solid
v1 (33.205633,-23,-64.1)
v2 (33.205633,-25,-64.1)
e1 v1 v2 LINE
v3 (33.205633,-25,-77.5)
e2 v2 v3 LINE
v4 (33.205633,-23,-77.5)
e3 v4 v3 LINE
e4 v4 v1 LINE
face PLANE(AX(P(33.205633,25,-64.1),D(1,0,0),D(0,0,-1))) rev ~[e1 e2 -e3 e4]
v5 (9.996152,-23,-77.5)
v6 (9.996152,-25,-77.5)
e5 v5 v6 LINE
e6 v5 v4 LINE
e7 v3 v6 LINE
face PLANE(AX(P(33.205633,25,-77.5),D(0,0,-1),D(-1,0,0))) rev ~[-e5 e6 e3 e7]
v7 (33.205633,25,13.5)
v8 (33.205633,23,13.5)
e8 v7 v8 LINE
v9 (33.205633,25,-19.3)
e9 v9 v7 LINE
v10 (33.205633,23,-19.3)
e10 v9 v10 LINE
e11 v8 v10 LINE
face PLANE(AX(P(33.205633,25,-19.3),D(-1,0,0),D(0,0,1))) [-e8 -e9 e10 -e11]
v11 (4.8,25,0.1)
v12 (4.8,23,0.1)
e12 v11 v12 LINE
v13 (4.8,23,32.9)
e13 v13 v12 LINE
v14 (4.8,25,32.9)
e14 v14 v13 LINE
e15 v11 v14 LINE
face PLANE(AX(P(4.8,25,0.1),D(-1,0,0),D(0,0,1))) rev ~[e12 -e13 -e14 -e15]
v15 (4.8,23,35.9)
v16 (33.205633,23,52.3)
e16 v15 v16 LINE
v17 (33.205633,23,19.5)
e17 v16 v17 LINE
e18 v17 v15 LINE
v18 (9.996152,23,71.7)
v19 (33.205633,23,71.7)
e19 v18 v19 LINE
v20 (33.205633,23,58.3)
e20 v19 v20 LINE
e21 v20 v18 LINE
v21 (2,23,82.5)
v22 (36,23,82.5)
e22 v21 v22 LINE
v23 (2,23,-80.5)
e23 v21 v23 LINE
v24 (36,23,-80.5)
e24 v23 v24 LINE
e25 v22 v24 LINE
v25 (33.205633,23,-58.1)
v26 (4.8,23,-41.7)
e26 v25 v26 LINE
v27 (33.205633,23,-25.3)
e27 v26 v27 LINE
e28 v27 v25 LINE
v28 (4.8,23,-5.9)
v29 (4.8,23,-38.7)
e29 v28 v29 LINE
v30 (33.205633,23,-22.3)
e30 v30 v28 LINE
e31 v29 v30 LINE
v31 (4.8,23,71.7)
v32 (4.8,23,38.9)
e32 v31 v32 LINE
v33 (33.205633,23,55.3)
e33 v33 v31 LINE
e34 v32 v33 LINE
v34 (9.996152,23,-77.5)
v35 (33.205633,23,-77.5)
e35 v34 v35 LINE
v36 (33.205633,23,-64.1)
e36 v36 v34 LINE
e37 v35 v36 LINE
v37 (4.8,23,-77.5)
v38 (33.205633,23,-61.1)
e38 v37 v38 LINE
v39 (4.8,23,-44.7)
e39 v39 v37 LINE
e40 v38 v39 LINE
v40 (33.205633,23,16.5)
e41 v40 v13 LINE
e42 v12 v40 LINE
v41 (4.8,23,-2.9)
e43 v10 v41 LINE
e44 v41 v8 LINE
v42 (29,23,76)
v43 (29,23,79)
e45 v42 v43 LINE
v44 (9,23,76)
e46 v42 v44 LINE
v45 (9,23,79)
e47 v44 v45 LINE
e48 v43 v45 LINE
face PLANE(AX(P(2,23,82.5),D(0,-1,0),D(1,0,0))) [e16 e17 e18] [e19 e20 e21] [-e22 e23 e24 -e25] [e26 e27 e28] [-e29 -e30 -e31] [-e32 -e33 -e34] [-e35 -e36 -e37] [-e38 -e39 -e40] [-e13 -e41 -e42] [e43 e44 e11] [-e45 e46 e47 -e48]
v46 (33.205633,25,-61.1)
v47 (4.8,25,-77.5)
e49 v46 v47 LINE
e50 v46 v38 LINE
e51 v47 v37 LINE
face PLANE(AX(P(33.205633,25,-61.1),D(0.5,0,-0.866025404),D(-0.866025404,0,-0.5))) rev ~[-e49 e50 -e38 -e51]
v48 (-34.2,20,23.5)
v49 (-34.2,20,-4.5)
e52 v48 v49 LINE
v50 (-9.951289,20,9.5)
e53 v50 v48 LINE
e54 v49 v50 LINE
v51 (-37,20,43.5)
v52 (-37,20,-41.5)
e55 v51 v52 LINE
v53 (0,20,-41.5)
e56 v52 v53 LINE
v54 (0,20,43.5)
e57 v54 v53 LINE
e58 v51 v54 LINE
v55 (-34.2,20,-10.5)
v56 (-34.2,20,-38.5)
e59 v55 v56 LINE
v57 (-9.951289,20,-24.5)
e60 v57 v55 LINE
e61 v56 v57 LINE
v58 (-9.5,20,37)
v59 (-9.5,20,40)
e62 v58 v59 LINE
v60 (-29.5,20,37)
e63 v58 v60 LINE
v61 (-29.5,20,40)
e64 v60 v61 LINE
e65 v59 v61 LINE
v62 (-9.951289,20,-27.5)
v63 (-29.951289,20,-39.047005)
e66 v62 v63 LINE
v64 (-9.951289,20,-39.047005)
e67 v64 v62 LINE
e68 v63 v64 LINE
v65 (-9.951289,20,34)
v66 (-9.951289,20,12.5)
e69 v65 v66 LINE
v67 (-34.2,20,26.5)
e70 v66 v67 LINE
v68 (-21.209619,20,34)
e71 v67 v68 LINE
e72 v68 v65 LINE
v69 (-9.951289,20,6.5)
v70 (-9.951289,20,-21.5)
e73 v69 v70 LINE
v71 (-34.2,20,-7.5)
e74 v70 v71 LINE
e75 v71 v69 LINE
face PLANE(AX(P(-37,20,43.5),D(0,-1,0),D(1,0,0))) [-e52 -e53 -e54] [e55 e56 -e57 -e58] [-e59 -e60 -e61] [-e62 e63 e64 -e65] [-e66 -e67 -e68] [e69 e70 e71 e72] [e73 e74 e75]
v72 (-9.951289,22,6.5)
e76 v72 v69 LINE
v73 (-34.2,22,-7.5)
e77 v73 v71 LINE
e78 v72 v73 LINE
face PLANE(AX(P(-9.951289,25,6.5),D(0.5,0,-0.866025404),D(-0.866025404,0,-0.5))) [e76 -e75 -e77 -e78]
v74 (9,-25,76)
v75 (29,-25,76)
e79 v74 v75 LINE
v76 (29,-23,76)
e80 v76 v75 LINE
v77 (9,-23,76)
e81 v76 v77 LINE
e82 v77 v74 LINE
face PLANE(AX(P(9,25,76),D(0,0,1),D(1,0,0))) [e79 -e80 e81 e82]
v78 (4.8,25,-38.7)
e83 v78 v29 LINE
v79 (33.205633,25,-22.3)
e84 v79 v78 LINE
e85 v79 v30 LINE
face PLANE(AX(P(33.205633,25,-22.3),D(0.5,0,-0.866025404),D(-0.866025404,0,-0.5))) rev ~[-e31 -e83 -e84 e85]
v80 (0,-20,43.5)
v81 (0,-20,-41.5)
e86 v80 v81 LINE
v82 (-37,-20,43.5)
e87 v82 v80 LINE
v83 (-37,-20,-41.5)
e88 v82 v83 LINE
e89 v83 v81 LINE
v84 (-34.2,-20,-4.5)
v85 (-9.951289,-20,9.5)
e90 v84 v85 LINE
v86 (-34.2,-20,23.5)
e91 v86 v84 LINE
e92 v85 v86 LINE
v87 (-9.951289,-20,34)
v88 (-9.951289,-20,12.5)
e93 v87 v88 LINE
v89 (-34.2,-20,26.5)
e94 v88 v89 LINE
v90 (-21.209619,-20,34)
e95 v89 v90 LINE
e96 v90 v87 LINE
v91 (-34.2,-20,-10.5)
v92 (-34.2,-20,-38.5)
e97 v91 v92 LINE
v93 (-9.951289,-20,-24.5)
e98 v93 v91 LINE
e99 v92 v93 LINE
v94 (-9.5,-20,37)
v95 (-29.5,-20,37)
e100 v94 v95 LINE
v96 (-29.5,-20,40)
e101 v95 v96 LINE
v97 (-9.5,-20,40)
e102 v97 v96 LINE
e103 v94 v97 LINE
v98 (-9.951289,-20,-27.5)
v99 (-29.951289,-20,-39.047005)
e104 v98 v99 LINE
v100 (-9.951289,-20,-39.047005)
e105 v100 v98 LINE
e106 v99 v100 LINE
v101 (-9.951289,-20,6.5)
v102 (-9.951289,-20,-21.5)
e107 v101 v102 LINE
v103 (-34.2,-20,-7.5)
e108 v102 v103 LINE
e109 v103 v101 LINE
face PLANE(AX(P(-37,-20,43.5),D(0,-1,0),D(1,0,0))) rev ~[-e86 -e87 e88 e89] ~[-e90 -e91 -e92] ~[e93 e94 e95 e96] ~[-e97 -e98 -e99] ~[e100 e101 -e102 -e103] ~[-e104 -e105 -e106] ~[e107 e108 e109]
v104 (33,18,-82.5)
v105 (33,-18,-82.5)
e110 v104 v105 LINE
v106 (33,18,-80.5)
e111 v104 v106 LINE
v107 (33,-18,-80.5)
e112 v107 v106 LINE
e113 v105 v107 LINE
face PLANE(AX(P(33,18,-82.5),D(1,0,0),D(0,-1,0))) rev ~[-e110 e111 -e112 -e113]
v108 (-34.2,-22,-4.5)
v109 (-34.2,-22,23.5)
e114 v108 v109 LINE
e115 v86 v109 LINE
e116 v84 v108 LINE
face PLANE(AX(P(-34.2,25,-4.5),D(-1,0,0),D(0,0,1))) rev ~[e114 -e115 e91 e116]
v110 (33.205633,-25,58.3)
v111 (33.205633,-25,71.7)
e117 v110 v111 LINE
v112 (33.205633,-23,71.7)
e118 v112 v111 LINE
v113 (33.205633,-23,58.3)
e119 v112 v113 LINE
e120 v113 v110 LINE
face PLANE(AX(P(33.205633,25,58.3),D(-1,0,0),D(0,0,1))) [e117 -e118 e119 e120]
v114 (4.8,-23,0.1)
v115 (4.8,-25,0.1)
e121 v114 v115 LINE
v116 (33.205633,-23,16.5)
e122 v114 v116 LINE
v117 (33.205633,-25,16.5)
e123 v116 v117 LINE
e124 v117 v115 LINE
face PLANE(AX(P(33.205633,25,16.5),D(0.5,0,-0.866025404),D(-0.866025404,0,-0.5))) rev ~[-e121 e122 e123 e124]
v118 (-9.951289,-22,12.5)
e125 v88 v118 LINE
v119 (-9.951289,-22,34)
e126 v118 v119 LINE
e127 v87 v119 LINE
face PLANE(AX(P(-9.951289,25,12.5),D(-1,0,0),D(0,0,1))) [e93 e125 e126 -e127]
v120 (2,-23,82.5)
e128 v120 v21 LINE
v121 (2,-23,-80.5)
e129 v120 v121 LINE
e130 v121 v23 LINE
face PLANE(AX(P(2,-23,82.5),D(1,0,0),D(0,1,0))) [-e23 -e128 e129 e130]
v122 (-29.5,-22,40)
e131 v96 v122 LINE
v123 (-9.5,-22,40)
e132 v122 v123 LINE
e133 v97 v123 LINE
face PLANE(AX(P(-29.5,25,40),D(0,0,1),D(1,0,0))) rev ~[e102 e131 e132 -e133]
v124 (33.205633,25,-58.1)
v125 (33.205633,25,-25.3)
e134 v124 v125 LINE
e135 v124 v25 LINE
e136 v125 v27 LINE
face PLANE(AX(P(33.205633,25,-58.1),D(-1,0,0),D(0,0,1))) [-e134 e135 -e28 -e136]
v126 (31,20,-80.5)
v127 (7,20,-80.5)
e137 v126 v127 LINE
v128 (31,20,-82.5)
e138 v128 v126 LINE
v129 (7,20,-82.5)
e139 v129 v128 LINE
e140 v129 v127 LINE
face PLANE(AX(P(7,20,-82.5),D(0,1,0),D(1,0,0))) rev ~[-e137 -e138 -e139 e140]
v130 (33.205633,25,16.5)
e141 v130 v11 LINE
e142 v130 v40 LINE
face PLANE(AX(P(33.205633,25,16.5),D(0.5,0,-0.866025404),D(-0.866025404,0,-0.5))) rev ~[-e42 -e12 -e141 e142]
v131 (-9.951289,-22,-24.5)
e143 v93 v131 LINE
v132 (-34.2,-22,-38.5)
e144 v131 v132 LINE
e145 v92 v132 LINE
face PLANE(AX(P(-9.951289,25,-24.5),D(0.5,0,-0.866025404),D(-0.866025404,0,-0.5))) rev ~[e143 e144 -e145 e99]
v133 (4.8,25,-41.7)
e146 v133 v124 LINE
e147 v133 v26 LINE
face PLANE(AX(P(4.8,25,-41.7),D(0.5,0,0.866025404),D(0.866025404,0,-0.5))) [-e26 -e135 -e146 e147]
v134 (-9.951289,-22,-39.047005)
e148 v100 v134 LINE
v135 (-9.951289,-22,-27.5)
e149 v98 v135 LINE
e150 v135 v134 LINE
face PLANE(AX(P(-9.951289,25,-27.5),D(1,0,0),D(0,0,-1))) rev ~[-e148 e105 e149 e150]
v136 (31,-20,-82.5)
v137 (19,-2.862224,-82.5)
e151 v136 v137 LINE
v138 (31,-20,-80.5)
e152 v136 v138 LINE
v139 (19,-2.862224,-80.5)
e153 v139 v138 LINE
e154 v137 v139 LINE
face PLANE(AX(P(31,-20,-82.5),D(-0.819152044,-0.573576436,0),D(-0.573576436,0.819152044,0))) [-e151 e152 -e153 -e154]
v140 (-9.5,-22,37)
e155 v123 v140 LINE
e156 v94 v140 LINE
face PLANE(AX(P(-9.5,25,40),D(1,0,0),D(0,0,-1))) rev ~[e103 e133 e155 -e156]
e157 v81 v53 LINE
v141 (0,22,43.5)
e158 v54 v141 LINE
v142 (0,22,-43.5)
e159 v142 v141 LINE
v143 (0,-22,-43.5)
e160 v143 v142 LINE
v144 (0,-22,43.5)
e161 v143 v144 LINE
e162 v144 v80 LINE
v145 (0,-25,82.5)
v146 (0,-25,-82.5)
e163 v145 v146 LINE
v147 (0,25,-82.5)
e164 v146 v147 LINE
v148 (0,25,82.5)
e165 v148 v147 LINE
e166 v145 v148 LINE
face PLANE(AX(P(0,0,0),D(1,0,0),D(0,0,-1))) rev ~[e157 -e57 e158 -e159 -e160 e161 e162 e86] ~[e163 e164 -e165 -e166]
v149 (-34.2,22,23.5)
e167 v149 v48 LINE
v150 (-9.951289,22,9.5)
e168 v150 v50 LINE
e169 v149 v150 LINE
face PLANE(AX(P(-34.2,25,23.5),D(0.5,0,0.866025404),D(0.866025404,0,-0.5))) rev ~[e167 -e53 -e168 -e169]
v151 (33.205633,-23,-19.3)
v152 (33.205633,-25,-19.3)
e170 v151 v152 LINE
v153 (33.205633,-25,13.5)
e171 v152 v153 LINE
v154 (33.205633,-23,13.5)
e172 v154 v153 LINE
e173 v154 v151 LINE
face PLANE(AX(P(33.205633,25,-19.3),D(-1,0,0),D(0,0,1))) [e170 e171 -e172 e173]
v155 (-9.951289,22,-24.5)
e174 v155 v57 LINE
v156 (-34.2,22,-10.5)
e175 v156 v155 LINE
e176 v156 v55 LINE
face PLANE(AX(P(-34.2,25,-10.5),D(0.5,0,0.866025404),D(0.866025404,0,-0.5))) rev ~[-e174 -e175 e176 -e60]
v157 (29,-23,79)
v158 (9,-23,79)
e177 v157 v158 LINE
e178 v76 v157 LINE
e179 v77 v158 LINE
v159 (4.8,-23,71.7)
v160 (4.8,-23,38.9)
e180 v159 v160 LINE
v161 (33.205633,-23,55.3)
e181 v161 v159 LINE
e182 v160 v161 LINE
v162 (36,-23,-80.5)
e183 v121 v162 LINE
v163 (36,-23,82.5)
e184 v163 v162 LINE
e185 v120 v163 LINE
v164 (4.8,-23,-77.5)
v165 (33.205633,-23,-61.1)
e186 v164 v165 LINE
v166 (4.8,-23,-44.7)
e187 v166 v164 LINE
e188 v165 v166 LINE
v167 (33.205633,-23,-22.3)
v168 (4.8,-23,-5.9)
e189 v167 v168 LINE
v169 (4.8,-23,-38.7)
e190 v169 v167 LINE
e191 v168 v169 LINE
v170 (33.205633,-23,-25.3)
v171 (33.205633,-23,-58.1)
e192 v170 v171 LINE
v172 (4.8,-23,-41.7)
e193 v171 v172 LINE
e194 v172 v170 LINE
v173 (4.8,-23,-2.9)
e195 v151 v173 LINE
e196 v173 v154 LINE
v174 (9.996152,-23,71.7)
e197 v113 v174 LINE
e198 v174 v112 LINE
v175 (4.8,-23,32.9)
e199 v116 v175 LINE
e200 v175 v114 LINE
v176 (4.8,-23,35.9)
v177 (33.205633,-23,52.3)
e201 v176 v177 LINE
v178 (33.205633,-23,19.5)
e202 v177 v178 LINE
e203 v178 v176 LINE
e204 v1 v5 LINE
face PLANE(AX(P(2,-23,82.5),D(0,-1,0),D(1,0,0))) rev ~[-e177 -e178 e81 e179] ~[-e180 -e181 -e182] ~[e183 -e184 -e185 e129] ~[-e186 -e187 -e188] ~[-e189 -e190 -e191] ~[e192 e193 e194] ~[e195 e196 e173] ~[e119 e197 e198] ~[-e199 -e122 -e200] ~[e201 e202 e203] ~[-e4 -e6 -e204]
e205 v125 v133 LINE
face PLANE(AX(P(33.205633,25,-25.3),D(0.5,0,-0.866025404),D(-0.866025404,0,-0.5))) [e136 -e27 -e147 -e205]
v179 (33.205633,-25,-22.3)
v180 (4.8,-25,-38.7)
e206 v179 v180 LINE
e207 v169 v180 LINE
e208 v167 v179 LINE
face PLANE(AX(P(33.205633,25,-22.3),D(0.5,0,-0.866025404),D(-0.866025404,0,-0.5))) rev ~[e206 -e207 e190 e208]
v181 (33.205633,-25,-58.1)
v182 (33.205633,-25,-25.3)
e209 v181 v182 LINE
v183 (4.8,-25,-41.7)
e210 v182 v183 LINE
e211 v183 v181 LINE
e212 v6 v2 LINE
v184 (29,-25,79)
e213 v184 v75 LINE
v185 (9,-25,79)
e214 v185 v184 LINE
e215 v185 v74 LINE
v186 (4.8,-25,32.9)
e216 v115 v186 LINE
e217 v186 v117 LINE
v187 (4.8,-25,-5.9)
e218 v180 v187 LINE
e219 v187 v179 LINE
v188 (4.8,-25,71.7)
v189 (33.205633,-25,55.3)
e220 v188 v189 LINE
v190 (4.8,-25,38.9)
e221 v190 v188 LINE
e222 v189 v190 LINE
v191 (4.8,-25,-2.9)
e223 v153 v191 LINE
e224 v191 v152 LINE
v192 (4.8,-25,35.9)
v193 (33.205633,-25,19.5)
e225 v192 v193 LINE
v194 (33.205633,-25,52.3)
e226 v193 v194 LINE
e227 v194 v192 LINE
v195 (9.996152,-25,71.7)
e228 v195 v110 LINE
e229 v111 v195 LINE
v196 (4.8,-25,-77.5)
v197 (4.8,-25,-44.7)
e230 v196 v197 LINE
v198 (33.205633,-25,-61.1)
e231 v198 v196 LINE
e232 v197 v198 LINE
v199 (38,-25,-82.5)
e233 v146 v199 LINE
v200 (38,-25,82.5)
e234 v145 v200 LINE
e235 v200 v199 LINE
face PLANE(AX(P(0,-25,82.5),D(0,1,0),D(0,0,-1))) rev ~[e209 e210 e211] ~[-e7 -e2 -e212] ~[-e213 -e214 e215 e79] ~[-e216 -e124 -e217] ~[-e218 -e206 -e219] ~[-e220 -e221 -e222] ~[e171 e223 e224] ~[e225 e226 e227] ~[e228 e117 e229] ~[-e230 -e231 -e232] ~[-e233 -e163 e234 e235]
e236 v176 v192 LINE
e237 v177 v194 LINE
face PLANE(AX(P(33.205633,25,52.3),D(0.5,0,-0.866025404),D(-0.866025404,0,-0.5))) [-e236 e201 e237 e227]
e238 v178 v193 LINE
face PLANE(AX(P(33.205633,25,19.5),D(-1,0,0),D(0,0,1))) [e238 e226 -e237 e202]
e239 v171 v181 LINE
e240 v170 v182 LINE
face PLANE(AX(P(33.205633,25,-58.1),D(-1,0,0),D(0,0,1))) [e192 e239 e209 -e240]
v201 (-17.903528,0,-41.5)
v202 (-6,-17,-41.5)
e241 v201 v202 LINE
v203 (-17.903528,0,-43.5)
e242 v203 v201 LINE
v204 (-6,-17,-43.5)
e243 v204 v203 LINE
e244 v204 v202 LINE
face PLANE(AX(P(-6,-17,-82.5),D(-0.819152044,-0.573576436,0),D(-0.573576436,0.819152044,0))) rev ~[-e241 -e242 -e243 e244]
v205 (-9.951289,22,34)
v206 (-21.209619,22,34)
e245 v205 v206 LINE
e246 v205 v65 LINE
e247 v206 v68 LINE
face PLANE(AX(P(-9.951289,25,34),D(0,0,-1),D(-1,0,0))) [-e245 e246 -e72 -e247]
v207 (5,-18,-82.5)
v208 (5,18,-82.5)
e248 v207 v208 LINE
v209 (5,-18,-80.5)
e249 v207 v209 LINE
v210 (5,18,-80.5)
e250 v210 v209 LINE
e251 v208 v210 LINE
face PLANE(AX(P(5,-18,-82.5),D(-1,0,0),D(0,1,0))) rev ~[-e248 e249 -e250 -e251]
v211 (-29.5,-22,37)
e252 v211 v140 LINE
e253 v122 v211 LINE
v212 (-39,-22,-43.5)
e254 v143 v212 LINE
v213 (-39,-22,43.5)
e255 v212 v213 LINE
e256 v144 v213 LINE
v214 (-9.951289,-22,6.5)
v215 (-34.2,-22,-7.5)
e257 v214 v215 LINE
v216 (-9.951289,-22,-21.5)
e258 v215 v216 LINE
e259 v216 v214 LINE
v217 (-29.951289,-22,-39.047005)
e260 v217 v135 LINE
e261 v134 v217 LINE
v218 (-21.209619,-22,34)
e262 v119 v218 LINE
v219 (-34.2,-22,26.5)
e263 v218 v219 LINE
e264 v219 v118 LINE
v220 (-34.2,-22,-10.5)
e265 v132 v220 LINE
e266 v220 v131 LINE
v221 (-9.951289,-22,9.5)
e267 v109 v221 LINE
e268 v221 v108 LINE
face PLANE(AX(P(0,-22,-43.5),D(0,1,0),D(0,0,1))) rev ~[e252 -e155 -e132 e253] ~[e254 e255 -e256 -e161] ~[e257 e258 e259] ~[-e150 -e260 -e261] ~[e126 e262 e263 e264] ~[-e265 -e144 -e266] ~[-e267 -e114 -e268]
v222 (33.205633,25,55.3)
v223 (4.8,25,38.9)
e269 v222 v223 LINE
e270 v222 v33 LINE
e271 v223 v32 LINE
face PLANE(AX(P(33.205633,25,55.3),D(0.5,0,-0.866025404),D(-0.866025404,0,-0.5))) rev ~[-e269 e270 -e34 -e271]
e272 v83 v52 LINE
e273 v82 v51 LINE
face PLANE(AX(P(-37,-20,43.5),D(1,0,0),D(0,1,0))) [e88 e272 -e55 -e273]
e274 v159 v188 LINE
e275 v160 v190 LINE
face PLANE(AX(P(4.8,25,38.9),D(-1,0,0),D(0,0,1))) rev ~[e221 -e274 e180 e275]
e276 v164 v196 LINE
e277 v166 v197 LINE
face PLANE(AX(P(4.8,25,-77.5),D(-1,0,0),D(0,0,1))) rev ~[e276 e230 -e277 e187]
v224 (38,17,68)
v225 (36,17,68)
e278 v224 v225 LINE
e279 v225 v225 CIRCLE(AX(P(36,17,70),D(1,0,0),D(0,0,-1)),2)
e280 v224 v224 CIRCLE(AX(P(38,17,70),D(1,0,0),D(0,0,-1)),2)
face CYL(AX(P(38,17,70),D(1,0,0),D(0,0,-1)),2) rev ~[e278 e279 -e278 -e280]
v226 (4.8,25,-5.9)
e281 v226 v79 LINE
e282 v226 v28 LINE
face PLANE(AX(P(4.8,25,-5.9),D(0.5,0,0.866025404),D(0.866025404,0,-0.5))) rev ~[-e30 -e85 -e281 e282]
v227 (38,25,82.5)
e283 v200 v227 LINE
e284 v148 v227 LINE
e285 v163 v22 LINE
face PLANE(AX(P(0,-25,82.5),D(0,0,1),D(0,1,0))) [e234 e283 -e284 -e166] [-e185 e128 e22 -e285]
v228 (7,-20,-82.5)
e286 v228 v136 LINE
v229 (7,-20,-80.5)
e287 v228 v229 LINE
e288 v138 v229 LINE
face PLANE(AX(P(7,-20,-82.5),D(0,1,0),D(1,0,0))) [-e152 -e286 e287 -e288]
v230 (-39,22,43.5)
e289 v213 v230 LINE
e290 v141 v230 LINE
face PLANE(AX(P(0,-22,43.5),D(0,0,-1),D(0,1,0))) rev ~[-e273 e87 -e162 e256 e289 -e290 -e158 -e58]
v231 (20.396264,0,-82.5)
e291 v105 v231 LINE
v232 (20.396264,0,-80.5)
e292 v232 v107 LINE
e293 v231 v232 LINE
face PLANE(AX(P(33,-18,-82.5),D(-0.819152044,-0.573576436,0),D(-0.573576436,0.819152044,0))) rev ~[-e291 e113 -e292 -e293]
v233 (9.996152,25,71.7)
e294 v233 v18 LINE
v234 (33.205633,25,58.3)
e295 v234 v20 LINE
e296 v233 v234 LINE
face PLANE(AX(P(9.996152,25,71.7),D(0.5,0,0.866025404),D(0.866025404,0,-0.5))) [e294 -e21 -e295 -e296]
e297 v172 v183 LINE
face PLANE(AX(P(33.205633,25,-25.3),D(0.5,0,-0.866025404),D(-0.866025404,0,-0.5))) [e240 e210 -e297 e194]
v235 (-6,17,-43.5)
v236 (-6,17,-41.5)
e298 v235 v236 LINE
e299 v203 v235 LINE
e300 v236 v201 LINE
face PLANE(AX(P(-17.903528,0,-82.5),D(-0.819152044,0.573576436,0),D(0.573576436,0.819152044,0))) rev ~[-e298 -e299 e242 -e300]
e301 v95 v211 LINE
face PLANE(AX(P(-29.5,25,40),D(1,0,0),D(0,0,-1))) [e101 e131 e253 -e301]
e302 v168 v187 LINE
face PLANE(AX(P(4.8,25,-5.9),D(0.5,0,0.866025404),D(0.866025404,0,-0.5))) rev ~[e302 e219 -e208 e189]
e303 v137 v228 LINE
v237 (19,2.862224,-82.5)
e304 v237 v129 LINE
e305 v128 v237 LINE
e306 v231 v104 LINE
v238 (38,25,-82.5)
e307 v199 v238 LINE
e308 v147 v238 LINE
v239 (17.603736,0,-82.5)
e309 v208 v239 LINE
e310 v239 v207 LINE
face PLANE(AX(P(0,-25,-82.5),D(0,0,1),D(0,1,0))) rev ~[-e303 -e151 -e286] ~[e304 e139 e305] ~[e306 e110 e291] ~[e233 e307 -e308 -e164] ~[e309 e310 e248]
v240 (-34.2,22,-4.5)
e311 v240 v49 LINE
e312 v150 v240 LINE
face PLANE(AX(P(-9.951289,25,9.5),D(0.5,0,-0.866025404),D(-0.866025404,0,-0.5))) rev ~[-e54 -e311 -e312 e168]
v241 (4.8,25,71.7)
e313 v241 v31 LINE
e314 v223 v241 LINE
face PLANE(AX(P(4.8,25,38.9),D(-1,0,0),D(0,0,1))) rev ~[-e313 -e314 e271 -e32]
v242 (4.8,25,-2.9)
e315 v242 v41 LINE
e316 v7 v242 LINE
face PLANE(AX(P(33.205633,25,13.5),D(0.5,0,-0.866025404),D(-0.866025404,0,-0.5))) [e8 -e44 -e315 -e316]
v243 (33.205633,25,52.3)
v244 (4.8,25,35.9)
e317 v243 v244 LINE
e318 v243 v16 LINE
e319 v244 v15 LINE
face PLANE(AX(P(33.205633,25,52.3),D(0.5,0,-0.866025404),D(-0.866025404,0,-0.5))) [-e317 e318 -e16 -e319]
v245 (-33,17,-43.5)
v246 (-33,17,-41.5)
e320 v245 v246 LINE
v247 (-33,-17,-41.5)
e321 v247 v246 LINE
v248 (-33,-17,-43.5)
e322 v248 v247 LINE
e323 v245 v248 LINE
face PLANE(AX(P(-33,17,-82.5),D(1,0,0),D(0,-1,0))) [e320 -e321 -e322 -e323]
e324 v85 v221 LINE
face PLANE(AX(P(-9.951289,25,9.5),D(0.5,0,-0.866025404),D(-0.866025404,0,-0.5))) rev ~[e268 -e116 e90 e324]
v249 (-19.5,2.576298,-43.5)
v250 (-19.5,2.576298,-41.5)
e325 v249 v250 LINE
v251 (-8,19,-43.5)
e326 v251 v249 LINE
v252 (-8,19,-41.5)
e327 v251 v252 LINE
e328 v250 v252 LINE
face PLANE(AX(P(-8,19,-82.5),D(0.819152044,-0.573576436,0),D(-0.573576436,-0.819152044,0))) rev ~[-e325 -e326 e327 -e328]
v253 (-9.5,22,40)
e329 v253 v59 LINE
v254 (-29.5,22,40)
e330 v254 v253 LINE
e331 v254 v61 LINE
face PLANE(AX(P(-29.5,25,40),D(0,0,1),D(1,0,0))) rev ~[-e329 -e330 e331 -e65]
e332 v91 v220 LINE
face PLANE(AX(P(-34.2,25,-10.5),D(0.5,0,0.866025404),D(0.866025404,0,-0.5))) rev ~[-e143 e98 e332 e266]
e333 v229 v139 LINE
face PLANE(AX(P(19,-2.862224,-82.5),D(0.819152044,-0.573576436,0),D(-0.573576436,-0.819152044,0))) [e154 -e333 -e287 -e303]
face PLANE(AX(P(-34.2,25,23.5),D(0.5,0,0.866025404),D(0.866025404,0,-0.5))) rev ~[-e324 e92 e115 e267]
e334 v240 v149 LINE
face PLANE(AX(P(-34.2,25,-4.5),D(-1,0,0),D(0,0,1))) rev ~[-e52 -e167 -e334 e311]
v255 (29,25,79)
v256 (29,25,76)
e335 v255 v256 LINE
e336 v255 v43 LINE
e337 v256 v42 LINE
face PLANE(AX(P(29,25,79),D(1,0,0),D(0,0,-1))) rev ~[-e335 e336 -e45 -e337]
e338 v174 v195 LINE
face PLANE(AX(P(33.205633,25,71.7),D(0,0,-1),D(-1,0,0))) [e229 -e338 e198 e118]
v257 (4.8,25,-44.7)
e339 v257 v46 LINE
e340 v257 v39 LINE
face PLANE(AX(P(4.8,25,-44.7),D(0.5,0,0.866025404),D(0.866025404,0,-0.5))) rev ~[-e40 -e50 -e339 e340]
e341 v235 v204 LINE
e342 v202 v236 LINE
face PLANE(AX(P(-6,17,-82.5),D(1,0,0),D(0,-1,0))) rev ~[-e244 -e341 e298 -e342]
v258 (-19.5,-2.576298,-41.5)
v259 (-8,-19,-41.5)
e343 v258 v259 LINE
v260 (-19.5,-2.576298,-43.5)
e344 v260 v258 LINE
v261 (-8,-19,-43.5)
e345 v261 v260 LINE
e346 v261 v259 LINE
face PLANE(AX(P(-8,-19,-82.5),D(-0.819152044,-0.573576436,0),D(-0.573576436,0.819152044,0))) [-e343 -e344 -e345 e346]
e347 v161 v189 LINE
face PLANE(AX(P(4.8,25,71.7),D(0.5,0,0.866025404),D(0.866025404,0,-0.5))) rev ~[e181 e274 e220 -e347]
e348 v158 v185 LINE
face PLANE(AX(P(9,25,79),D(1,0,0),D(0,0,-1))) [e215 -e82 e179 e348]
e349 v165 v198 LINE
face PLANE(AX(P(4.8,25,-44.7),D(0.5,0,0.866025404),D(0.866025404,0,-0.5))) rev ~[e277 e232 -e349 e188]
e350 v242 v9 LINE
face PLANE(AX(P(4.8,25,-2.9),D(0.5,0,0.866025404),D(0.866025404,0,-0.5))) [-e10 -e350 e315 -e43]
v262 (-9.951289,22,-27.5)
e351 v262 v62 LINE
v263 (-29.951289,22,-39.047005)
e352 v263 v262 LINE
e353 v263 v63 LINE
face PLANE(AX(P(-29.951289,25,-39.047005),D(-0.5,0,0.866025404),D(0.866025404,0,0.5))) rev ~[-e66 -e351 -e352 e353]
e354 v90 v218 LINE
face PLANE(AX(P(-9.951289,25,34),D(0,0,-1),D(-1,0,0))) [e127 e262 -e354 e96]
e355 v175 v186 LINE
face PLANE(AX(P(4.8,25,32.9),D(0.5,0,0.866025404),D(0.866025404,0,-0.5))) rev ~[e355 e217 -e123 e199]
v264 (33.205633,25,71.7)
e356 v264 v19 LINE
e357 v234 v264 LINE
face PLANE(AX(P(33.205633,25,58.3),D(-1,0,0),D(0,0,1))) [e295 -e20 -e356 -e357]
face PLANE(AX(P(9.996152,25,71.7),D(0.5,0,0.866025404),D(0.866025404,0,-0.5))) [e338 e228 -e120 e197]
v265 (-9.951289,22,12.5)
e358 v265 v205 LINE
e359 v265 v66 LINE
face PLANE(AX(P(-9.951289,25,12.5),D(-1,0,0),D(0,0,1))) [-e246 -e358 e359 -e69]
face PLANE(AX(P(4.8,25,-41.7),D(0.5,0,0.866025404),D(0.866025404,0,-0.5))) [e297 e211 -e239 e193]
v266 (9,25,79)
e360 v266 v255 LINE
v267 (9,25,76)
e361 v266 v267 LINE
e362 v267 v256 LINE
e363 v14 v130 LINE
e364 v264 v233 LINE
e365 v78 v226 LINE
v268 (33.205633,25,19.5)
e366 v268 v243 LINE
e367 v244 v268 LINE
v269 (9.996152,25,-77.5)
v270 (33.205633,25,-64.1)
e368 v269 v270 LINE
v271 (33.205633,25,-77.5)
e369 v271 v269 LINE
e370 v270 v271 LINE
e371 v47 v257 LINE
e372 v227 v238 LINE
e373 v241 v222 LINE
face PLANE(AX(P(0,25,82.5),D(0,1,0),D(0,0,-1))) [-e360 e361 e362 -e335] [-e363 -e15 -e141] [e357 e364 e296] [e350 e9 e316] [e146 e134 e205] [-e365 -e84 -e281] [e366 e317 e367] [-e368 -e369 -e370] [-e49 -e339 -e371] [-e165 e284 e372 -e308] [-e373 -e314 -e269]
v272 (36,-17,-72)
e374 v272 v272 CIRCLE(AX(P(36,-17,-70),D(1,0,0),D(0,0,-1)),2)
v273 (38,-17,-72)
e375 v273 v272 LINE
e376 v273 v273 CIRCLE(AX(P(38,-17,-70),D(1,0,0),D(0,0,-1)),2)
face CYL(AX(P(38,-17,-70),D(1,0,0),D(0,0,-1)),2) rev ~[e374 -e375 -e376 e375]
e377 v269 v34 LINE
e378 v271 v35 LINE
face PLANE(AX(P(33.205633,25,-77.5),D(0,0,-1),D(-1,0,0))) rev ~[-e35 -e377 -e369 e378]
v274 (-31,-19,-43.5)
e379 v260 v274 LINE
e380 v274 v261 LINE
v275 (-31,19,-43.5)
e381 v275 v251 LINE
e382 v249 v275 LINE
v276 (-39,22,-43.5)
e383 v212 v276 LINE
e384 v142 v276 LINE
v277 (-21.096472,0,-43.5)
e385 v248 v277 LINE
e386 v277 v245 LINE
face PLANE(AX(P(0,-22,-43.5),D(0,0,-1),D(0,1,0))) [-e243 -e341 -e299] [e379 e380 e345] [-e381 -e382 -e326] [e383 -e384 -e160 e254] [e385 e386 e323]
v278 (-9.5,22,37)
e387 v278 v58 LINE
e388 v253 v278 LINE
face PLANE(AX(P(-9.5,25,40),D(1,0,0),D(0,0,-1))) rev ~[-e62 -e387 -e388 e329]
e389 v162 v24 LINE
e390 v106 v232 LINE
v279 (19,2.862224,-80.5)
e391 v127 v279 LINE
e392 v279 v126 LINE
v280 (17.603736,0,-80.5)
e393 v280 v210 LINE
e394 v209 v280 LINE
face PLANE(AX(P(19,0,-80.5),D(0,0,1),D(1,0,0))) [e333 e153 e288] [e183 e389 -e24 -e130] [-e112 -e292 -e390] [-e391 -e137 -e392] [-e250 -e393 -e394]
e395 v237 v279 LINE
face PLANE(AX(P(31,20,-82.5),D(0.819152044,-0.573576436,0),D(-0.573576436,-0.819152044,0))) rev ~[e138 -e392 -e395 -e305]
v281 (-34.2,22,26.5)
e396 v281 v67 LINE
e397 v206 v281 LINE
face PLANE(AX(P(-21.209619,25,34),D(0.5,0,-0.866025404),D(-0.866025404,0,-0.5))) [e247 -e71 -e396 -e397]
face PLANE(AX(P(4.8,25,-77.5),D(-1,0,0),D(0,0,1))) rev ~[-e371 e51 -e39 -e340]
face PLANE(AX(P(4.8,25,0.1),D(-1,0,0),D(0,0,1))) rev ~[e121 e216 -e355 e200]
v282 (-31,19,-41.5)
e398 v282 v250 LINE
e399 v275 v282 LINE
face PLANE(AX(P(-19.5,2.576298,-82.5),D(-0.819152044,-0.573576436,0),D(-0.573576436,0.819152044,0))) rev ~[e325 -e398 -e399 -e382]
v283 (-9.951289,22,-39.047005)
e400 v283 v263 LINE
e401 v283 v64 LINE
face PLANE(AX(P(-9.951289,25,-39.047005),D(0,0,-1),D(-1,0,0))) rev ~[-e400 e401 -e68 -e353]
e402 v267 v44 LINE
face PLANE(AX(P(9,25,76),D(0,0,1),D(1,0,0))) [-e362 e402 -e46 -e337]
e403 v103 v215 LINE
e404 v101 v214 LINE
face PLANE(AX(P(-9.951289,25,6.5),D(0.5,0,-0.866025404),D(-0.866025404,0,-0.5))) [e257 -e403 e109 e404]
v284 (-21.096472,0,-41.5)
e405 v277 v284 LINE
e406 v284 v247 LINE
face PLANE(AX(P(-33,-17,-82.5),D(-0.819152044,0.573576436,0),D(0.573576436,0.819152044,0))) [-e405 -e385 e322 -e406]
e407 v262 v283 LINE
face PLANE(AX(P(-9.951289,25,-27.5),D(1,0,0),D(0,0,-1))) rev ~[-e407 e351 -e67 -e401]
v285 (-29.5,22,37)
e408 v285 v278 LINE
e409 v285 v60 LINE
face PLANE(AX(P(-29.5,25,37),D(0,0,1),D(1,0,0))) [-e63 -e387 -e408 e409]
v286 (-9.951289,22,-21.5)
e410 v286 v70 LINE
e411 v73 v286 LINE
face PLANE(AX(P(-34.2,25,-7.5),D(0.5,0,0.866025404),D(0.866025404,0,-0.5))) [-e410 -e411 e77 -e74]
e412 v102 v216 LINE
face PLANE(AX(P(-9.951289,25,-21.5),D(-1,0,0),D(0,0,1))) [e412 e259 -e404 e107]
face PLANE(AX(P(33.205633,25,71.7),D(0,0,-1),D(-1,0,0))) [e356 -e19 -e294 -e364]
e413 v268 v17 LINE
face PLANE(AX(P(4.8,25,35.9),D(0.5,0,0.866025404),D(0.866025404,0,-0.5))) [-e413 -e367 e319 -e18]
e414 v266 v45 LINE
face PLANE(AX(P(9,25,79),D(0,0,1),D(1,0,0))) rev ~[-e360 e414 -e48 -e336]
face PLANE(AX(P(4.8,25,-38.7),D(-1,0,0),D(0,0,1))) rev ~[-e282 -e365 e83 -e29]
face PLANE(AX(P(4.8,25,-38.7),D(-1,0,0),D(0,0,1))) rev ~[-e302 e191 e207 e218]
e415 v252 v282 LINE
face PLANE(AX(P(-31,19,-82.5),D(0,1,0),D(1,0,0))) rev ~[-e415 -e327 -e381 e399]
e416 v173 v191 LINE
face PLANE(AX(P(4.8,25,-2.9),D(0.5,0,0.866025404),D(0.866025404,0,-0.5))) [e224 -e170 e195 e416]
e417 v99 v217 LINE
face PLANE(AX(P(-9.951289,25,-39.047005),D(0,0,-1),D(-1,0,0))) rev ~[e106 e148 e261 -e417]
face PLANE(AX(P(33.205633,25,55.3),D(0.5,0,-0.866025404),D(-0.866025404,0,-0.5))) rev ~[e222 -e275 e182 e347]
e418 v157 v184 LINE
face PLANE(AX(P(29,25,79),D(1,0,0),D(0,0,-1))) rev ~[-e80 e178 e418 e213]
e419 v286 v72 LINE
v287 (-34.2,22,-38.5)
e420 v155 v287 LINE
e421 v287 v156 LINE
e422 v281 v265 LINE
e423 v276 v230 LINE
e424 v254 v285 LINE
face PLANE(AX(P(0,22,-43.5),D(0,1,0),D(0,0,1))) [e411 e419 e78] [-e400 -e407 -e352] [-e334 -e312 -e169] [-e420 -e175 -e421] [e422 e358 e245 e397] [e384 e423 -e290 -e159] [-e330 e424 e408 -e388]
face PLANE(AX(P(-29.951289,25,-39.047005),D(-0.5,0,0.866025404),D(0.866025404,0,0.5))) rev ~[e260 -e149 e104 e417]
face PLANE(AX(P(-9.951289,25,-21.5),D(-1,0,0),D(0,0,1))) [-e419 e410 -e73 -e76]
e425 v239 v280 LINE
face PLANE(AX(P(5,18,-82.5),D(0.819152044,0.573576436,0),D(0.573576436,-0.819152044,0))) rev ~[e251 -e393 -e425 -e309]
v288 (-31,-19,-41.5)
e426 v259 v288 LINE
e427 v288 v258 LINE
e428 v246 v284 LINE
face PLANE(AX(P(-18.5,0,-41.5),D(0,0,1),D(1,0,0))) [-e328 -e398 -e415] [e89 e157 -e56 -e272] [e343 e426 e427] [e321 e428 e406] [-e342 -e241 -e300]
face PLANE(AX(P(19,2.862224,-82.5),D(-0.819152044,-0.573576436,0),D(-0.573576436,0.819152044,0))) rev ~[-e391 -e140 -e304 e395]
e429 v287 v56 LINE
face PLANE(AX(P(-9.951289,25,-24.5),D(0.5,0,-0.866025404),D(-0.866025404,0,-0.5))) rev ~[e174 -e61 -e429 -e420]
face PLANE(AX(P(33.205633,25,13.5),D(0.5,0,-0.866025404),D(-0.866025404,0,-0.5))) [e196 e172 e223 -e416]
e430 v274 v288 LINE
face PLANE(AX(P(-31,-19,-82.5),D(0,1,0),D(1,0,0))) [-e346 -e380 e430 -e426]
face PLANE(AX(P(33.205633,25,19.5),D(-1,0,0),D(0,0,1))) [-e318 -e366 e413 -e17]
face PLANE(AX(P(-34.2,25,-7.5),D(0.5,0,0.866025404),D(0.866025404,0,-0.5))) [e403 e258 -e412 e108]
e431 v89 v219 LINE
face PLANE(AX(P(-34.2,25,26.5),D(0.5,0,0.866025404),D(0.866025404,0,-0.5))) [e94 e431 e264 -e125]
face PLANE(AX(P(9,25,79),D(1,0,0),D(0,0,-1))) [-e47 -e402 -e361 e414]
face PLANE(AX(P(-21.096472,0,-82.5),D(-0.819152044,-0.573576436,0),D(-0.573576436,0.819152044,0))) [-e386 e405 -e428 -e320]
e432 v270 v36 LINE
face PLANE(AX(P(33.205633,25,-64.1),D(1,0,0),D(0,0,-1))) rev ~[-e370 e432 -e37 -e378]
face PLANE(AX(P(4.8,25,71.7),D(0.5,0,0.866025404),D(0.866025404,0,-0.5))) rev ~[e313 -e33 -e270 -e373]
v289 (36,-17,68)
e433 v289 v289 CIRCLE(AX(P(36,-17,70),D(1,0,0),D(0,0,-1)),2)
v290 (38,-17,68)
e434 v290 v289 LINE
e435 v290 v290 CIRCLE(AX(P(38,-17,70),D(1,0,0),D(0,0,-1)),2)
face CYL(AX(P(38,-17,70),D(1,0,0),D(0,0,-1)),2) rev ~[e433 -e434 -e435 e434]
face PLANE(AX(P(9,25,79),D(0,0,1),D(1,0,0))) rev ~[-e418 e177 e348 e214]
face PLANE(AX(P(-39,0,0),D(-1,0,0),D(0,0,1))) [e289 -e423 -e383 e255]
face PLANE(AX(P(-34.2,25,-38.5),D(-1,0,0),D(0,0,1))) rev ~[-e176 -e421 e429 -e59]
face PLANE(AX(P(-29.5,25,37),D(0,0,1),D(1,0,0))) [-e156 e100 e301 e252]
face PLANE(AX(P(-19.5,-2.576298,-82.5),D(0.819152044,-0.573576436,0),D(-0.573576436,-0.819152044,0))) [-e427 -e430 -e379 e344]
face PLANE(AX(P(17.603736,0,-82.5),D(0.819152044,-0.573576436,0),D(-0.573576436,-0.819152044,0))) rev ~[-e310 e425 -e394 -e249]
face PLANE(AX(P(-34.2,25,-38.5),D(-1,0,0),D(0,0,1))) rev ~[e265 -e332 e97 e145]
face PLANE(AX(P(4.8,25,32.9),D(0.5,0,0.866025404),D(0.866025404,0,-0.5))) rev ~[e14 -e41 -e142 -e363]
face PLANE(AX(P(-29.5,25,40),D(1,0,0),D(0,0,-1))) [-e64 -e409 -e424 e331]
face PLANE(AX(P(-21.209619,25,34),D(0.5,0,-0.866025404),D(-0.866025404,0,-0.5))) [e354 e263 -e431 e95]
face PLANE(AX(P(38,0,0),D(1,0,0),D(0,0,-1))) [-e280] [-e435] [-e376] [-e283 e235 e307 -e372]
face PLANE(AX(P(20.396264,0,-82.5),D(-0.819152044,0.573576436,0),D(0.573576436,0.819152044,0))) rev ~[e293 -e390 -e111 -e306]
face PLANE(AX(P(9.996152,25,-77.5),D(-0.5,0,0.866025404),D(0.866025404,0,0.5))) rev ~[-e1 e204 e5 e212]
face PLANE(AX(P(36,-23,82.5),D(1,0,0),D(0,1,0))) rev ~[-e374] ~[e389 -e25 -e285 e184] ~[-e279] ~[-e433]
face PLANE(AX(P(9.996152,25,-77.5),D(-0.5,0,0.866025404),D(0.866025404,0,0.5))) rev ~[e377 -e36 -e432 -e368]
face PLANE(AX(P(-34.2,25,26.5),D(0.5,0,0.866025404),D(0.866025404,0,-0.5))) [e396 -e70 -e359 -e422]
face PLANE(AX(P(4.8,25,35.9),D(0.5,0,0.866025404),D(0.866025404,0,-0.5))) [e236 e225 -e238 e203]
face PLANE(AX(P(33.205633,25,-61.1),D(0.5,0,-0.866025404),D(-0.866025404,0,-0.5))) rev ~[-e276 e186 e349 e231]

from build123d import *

# Parameters (mm, degrees)
BODYSKETCH_W              = 165
BODYSKETCH_H              = 50
BODY_DEPTH                = 38
HOLESKETCH_W              = 34
HOLESKETCH_H              = 46
HOLE_DEPTH                = 163
SECONDBATTERYSKETCH_W     = 87
SECONDBATTERYSKETCH_H     = 44
SECONDBATTERY_DEPTH       = 39
SECONDBATTERYHOLESKETCH_W = 37
SECONDBATTERYHOLESKETCH_H = 40
SECONDBATTERYHOLE_DEPTH   = 85
CONNECTORSKETCH_R         = 2
CUT_EXTRUDE3_DEPTH        = 15
STRAPSKETCH_W             = 20
STRAPSKETCH_H             = 3
CUT_EXTRUDE4_DEPTH        = 51
CUT_EXTRUDE5_DEPTH        = 51
CUT_EXTRUDE6_DEPTH        = 166


with BuildPart() as part:
    # BodySketch → Body (new body)
    with BuildSketch(Plane(origin=(0, 0, 0), x_dir=(0, 0, -1), z_dir=(1, 0, 0))):
        Rectangle(BODYSKETCH_W, BODYSKETCH_H)
    extrude(amount=BODY_DEPTH)

    # HoleSketch → Hole (cut)
    with BuildSketch(Plane.XY.offset(82.5)):
        with Locations((19, 0)):
            Rectangle(HOLESKETCH_W, HOLESKETCH_H)
    extrude(amount=-HOLE_DEPTH, mode=Mode.SUBTRACT)

    # SecondBatterySketch → SecondBattery (add)
    with BuildSketch(Plane.ZY):
        Rectangle(SECONDBATTERYSKETCH_W, SECONDBATTERYSKETCH_H)
    extrude(amount=SECONDBATTERY_DEPTH)

    # SecondBatteryHoleSketch → SecondBatteryHole (cut)
    with BuildSketch(Plane.XY.offset(43.5)):
        with Locations((-18.5, 0)):
            Rectangle(SECONDBATTERYHOLESKETCH_W, SECONDBATTERYHOLESKETCH_H)
    extrude(amount=-SECONDBATTERYHOLE_DEPTH, mode=Mode.SUBTRACT)

    # ConnectorSketch → Cut-Extrude3 (cut)
    with BuildSketch(Plane(origin=(38, 0, 0), x_dir=(0, 0, -1), z_dir=(1, 0, 0))):
        with Locations((-70, 17)):
            Circle(CONNECTORSKETCH_R)
        with Locations((-70, -17)):
            Circle(CONNECTORSKETCH_R)
        with Locations((70, -17)):
            Circle(CONNECTORSKETCH_R)
    extrude(amount=-CUT_EXTRUDE3_DEPTH, mode=Mode.SUBTRACT)

    # StrapSketch → Cut-Extrude4 (cut, through all)
    with BuildSketch(Plane(origin=(0, 25, 0), x_dir=(1, 0, 0), z_dir=(0, 1, 0))):
        with Locations((19, -77.5)):
            Rectangle(STRAPSKETCH_W, STRAPSKETCH_H)
        with Locations((-19.5, -38.5)):
            Rectangle(STRAPSKETCH_W, STRAPSKETCH_H)
    extrude(amount=-CUT_EXTRUDE4_DEPTH, mode=Mode.SUBTRACT)

    # WeightReduction → Cut-Extrude5 (cut, through all)
    with BuildSketch(Plane(origin=(0, 25, 0), x_dir=(1, 0, 0), z_dir=(0, 1, 0))):
        Polygon((4.8, 77.5), (4.8, 44.7), (33.205633244, 61.1), align=None)
        Polygon((33.205633244, -19.5), (33.205633244, -52.3), (4.8, -35.9), align=None)
        Polygon((33.205633244, 58.1), (33.205633244, 25.3), (4.8, 41.7), align=None)
        Polygon((4.8, 38.7), (4.8, 5.9), (33.205633244, 22.3), align=None)
        Polygon((33.205633244, 19.3), (33.205633244, -13.5), (4.8, 2.9), align=None)
        Polygon((4.8, -0.1), (4.8, -32.9), (33.205633244, -16.5), align=None)
        Polygon((4.8, -38.9), (4.8, -71.7), (33.205633244, -55.3), align=None)
        Polygon((33.205633244, -58.3), (33.205633244, -71.7), (9.996152423, -71.7), align=None)
        Polygon((33.205633244, 64.1), (33.205633244, 77.5), (9.996152423, 77.5), align=None)
        Polygon((-34.2, 38.5), (-34.2, 10.5), (-9.951288694, 24.5), align=None)
        Polygon((-9.951288694, 21.5), (-9.951288694, -6.5), (-34.2, 7.5), align=None)
        Polygon((-34.2, 4.5), (-34.2, -23.5), (-9.951288694, -9.5), align=None)
        Polygon((-34.2, -26.5), (-9.951288694, -12.5), (-9.951288694, -34), (-21.209618943, -34), align=None)
        Polygon((-9.951288694, 27.5), (-9.951288694, 39.047005384), (-29.951288694, 39.047005384), align=None)
    extrude(amount=-CUT_EXTRUDE5_DEPTH, mode=Mode.SUBTRACT)

    # weightCut → Cut-Extrude6 (cut, through all)
    with BuildSketch(Plane(origin=(0, 0, -82.5), x_dir=(-1, 0, 0), z_dir=(0, 0, -1))):
        Polygon((-31, -20), (-19, -2.862223919), (-7, -20), align=None)
        Polygon((-33, -18), (-20.396264312, 0), (-33, 18), align=None)
        Polygon((-31, 20), (-19, 2.862223919), (-7, 20), align=None)
        Polygon((-5, 18), (-17.603735688, 0), (-5, -18), align=None)
        Polygon((8, -19), (19.5, -2.576297922), (31, -19), align=None)
        Polygon((6, -17), (17.90352815, 0), (6, 17), align=None)
        Polygon((33, -17), (21.09647185, 0), (33, 17), align=None)
        Polygon((8, 19), (19.5, 2.576297922), (31, 19), align=None)
    extrude(amount=-CUT_EXTRUDE6_DEPTH, mode=Mode.SUBTRACT)


solid = part.part
